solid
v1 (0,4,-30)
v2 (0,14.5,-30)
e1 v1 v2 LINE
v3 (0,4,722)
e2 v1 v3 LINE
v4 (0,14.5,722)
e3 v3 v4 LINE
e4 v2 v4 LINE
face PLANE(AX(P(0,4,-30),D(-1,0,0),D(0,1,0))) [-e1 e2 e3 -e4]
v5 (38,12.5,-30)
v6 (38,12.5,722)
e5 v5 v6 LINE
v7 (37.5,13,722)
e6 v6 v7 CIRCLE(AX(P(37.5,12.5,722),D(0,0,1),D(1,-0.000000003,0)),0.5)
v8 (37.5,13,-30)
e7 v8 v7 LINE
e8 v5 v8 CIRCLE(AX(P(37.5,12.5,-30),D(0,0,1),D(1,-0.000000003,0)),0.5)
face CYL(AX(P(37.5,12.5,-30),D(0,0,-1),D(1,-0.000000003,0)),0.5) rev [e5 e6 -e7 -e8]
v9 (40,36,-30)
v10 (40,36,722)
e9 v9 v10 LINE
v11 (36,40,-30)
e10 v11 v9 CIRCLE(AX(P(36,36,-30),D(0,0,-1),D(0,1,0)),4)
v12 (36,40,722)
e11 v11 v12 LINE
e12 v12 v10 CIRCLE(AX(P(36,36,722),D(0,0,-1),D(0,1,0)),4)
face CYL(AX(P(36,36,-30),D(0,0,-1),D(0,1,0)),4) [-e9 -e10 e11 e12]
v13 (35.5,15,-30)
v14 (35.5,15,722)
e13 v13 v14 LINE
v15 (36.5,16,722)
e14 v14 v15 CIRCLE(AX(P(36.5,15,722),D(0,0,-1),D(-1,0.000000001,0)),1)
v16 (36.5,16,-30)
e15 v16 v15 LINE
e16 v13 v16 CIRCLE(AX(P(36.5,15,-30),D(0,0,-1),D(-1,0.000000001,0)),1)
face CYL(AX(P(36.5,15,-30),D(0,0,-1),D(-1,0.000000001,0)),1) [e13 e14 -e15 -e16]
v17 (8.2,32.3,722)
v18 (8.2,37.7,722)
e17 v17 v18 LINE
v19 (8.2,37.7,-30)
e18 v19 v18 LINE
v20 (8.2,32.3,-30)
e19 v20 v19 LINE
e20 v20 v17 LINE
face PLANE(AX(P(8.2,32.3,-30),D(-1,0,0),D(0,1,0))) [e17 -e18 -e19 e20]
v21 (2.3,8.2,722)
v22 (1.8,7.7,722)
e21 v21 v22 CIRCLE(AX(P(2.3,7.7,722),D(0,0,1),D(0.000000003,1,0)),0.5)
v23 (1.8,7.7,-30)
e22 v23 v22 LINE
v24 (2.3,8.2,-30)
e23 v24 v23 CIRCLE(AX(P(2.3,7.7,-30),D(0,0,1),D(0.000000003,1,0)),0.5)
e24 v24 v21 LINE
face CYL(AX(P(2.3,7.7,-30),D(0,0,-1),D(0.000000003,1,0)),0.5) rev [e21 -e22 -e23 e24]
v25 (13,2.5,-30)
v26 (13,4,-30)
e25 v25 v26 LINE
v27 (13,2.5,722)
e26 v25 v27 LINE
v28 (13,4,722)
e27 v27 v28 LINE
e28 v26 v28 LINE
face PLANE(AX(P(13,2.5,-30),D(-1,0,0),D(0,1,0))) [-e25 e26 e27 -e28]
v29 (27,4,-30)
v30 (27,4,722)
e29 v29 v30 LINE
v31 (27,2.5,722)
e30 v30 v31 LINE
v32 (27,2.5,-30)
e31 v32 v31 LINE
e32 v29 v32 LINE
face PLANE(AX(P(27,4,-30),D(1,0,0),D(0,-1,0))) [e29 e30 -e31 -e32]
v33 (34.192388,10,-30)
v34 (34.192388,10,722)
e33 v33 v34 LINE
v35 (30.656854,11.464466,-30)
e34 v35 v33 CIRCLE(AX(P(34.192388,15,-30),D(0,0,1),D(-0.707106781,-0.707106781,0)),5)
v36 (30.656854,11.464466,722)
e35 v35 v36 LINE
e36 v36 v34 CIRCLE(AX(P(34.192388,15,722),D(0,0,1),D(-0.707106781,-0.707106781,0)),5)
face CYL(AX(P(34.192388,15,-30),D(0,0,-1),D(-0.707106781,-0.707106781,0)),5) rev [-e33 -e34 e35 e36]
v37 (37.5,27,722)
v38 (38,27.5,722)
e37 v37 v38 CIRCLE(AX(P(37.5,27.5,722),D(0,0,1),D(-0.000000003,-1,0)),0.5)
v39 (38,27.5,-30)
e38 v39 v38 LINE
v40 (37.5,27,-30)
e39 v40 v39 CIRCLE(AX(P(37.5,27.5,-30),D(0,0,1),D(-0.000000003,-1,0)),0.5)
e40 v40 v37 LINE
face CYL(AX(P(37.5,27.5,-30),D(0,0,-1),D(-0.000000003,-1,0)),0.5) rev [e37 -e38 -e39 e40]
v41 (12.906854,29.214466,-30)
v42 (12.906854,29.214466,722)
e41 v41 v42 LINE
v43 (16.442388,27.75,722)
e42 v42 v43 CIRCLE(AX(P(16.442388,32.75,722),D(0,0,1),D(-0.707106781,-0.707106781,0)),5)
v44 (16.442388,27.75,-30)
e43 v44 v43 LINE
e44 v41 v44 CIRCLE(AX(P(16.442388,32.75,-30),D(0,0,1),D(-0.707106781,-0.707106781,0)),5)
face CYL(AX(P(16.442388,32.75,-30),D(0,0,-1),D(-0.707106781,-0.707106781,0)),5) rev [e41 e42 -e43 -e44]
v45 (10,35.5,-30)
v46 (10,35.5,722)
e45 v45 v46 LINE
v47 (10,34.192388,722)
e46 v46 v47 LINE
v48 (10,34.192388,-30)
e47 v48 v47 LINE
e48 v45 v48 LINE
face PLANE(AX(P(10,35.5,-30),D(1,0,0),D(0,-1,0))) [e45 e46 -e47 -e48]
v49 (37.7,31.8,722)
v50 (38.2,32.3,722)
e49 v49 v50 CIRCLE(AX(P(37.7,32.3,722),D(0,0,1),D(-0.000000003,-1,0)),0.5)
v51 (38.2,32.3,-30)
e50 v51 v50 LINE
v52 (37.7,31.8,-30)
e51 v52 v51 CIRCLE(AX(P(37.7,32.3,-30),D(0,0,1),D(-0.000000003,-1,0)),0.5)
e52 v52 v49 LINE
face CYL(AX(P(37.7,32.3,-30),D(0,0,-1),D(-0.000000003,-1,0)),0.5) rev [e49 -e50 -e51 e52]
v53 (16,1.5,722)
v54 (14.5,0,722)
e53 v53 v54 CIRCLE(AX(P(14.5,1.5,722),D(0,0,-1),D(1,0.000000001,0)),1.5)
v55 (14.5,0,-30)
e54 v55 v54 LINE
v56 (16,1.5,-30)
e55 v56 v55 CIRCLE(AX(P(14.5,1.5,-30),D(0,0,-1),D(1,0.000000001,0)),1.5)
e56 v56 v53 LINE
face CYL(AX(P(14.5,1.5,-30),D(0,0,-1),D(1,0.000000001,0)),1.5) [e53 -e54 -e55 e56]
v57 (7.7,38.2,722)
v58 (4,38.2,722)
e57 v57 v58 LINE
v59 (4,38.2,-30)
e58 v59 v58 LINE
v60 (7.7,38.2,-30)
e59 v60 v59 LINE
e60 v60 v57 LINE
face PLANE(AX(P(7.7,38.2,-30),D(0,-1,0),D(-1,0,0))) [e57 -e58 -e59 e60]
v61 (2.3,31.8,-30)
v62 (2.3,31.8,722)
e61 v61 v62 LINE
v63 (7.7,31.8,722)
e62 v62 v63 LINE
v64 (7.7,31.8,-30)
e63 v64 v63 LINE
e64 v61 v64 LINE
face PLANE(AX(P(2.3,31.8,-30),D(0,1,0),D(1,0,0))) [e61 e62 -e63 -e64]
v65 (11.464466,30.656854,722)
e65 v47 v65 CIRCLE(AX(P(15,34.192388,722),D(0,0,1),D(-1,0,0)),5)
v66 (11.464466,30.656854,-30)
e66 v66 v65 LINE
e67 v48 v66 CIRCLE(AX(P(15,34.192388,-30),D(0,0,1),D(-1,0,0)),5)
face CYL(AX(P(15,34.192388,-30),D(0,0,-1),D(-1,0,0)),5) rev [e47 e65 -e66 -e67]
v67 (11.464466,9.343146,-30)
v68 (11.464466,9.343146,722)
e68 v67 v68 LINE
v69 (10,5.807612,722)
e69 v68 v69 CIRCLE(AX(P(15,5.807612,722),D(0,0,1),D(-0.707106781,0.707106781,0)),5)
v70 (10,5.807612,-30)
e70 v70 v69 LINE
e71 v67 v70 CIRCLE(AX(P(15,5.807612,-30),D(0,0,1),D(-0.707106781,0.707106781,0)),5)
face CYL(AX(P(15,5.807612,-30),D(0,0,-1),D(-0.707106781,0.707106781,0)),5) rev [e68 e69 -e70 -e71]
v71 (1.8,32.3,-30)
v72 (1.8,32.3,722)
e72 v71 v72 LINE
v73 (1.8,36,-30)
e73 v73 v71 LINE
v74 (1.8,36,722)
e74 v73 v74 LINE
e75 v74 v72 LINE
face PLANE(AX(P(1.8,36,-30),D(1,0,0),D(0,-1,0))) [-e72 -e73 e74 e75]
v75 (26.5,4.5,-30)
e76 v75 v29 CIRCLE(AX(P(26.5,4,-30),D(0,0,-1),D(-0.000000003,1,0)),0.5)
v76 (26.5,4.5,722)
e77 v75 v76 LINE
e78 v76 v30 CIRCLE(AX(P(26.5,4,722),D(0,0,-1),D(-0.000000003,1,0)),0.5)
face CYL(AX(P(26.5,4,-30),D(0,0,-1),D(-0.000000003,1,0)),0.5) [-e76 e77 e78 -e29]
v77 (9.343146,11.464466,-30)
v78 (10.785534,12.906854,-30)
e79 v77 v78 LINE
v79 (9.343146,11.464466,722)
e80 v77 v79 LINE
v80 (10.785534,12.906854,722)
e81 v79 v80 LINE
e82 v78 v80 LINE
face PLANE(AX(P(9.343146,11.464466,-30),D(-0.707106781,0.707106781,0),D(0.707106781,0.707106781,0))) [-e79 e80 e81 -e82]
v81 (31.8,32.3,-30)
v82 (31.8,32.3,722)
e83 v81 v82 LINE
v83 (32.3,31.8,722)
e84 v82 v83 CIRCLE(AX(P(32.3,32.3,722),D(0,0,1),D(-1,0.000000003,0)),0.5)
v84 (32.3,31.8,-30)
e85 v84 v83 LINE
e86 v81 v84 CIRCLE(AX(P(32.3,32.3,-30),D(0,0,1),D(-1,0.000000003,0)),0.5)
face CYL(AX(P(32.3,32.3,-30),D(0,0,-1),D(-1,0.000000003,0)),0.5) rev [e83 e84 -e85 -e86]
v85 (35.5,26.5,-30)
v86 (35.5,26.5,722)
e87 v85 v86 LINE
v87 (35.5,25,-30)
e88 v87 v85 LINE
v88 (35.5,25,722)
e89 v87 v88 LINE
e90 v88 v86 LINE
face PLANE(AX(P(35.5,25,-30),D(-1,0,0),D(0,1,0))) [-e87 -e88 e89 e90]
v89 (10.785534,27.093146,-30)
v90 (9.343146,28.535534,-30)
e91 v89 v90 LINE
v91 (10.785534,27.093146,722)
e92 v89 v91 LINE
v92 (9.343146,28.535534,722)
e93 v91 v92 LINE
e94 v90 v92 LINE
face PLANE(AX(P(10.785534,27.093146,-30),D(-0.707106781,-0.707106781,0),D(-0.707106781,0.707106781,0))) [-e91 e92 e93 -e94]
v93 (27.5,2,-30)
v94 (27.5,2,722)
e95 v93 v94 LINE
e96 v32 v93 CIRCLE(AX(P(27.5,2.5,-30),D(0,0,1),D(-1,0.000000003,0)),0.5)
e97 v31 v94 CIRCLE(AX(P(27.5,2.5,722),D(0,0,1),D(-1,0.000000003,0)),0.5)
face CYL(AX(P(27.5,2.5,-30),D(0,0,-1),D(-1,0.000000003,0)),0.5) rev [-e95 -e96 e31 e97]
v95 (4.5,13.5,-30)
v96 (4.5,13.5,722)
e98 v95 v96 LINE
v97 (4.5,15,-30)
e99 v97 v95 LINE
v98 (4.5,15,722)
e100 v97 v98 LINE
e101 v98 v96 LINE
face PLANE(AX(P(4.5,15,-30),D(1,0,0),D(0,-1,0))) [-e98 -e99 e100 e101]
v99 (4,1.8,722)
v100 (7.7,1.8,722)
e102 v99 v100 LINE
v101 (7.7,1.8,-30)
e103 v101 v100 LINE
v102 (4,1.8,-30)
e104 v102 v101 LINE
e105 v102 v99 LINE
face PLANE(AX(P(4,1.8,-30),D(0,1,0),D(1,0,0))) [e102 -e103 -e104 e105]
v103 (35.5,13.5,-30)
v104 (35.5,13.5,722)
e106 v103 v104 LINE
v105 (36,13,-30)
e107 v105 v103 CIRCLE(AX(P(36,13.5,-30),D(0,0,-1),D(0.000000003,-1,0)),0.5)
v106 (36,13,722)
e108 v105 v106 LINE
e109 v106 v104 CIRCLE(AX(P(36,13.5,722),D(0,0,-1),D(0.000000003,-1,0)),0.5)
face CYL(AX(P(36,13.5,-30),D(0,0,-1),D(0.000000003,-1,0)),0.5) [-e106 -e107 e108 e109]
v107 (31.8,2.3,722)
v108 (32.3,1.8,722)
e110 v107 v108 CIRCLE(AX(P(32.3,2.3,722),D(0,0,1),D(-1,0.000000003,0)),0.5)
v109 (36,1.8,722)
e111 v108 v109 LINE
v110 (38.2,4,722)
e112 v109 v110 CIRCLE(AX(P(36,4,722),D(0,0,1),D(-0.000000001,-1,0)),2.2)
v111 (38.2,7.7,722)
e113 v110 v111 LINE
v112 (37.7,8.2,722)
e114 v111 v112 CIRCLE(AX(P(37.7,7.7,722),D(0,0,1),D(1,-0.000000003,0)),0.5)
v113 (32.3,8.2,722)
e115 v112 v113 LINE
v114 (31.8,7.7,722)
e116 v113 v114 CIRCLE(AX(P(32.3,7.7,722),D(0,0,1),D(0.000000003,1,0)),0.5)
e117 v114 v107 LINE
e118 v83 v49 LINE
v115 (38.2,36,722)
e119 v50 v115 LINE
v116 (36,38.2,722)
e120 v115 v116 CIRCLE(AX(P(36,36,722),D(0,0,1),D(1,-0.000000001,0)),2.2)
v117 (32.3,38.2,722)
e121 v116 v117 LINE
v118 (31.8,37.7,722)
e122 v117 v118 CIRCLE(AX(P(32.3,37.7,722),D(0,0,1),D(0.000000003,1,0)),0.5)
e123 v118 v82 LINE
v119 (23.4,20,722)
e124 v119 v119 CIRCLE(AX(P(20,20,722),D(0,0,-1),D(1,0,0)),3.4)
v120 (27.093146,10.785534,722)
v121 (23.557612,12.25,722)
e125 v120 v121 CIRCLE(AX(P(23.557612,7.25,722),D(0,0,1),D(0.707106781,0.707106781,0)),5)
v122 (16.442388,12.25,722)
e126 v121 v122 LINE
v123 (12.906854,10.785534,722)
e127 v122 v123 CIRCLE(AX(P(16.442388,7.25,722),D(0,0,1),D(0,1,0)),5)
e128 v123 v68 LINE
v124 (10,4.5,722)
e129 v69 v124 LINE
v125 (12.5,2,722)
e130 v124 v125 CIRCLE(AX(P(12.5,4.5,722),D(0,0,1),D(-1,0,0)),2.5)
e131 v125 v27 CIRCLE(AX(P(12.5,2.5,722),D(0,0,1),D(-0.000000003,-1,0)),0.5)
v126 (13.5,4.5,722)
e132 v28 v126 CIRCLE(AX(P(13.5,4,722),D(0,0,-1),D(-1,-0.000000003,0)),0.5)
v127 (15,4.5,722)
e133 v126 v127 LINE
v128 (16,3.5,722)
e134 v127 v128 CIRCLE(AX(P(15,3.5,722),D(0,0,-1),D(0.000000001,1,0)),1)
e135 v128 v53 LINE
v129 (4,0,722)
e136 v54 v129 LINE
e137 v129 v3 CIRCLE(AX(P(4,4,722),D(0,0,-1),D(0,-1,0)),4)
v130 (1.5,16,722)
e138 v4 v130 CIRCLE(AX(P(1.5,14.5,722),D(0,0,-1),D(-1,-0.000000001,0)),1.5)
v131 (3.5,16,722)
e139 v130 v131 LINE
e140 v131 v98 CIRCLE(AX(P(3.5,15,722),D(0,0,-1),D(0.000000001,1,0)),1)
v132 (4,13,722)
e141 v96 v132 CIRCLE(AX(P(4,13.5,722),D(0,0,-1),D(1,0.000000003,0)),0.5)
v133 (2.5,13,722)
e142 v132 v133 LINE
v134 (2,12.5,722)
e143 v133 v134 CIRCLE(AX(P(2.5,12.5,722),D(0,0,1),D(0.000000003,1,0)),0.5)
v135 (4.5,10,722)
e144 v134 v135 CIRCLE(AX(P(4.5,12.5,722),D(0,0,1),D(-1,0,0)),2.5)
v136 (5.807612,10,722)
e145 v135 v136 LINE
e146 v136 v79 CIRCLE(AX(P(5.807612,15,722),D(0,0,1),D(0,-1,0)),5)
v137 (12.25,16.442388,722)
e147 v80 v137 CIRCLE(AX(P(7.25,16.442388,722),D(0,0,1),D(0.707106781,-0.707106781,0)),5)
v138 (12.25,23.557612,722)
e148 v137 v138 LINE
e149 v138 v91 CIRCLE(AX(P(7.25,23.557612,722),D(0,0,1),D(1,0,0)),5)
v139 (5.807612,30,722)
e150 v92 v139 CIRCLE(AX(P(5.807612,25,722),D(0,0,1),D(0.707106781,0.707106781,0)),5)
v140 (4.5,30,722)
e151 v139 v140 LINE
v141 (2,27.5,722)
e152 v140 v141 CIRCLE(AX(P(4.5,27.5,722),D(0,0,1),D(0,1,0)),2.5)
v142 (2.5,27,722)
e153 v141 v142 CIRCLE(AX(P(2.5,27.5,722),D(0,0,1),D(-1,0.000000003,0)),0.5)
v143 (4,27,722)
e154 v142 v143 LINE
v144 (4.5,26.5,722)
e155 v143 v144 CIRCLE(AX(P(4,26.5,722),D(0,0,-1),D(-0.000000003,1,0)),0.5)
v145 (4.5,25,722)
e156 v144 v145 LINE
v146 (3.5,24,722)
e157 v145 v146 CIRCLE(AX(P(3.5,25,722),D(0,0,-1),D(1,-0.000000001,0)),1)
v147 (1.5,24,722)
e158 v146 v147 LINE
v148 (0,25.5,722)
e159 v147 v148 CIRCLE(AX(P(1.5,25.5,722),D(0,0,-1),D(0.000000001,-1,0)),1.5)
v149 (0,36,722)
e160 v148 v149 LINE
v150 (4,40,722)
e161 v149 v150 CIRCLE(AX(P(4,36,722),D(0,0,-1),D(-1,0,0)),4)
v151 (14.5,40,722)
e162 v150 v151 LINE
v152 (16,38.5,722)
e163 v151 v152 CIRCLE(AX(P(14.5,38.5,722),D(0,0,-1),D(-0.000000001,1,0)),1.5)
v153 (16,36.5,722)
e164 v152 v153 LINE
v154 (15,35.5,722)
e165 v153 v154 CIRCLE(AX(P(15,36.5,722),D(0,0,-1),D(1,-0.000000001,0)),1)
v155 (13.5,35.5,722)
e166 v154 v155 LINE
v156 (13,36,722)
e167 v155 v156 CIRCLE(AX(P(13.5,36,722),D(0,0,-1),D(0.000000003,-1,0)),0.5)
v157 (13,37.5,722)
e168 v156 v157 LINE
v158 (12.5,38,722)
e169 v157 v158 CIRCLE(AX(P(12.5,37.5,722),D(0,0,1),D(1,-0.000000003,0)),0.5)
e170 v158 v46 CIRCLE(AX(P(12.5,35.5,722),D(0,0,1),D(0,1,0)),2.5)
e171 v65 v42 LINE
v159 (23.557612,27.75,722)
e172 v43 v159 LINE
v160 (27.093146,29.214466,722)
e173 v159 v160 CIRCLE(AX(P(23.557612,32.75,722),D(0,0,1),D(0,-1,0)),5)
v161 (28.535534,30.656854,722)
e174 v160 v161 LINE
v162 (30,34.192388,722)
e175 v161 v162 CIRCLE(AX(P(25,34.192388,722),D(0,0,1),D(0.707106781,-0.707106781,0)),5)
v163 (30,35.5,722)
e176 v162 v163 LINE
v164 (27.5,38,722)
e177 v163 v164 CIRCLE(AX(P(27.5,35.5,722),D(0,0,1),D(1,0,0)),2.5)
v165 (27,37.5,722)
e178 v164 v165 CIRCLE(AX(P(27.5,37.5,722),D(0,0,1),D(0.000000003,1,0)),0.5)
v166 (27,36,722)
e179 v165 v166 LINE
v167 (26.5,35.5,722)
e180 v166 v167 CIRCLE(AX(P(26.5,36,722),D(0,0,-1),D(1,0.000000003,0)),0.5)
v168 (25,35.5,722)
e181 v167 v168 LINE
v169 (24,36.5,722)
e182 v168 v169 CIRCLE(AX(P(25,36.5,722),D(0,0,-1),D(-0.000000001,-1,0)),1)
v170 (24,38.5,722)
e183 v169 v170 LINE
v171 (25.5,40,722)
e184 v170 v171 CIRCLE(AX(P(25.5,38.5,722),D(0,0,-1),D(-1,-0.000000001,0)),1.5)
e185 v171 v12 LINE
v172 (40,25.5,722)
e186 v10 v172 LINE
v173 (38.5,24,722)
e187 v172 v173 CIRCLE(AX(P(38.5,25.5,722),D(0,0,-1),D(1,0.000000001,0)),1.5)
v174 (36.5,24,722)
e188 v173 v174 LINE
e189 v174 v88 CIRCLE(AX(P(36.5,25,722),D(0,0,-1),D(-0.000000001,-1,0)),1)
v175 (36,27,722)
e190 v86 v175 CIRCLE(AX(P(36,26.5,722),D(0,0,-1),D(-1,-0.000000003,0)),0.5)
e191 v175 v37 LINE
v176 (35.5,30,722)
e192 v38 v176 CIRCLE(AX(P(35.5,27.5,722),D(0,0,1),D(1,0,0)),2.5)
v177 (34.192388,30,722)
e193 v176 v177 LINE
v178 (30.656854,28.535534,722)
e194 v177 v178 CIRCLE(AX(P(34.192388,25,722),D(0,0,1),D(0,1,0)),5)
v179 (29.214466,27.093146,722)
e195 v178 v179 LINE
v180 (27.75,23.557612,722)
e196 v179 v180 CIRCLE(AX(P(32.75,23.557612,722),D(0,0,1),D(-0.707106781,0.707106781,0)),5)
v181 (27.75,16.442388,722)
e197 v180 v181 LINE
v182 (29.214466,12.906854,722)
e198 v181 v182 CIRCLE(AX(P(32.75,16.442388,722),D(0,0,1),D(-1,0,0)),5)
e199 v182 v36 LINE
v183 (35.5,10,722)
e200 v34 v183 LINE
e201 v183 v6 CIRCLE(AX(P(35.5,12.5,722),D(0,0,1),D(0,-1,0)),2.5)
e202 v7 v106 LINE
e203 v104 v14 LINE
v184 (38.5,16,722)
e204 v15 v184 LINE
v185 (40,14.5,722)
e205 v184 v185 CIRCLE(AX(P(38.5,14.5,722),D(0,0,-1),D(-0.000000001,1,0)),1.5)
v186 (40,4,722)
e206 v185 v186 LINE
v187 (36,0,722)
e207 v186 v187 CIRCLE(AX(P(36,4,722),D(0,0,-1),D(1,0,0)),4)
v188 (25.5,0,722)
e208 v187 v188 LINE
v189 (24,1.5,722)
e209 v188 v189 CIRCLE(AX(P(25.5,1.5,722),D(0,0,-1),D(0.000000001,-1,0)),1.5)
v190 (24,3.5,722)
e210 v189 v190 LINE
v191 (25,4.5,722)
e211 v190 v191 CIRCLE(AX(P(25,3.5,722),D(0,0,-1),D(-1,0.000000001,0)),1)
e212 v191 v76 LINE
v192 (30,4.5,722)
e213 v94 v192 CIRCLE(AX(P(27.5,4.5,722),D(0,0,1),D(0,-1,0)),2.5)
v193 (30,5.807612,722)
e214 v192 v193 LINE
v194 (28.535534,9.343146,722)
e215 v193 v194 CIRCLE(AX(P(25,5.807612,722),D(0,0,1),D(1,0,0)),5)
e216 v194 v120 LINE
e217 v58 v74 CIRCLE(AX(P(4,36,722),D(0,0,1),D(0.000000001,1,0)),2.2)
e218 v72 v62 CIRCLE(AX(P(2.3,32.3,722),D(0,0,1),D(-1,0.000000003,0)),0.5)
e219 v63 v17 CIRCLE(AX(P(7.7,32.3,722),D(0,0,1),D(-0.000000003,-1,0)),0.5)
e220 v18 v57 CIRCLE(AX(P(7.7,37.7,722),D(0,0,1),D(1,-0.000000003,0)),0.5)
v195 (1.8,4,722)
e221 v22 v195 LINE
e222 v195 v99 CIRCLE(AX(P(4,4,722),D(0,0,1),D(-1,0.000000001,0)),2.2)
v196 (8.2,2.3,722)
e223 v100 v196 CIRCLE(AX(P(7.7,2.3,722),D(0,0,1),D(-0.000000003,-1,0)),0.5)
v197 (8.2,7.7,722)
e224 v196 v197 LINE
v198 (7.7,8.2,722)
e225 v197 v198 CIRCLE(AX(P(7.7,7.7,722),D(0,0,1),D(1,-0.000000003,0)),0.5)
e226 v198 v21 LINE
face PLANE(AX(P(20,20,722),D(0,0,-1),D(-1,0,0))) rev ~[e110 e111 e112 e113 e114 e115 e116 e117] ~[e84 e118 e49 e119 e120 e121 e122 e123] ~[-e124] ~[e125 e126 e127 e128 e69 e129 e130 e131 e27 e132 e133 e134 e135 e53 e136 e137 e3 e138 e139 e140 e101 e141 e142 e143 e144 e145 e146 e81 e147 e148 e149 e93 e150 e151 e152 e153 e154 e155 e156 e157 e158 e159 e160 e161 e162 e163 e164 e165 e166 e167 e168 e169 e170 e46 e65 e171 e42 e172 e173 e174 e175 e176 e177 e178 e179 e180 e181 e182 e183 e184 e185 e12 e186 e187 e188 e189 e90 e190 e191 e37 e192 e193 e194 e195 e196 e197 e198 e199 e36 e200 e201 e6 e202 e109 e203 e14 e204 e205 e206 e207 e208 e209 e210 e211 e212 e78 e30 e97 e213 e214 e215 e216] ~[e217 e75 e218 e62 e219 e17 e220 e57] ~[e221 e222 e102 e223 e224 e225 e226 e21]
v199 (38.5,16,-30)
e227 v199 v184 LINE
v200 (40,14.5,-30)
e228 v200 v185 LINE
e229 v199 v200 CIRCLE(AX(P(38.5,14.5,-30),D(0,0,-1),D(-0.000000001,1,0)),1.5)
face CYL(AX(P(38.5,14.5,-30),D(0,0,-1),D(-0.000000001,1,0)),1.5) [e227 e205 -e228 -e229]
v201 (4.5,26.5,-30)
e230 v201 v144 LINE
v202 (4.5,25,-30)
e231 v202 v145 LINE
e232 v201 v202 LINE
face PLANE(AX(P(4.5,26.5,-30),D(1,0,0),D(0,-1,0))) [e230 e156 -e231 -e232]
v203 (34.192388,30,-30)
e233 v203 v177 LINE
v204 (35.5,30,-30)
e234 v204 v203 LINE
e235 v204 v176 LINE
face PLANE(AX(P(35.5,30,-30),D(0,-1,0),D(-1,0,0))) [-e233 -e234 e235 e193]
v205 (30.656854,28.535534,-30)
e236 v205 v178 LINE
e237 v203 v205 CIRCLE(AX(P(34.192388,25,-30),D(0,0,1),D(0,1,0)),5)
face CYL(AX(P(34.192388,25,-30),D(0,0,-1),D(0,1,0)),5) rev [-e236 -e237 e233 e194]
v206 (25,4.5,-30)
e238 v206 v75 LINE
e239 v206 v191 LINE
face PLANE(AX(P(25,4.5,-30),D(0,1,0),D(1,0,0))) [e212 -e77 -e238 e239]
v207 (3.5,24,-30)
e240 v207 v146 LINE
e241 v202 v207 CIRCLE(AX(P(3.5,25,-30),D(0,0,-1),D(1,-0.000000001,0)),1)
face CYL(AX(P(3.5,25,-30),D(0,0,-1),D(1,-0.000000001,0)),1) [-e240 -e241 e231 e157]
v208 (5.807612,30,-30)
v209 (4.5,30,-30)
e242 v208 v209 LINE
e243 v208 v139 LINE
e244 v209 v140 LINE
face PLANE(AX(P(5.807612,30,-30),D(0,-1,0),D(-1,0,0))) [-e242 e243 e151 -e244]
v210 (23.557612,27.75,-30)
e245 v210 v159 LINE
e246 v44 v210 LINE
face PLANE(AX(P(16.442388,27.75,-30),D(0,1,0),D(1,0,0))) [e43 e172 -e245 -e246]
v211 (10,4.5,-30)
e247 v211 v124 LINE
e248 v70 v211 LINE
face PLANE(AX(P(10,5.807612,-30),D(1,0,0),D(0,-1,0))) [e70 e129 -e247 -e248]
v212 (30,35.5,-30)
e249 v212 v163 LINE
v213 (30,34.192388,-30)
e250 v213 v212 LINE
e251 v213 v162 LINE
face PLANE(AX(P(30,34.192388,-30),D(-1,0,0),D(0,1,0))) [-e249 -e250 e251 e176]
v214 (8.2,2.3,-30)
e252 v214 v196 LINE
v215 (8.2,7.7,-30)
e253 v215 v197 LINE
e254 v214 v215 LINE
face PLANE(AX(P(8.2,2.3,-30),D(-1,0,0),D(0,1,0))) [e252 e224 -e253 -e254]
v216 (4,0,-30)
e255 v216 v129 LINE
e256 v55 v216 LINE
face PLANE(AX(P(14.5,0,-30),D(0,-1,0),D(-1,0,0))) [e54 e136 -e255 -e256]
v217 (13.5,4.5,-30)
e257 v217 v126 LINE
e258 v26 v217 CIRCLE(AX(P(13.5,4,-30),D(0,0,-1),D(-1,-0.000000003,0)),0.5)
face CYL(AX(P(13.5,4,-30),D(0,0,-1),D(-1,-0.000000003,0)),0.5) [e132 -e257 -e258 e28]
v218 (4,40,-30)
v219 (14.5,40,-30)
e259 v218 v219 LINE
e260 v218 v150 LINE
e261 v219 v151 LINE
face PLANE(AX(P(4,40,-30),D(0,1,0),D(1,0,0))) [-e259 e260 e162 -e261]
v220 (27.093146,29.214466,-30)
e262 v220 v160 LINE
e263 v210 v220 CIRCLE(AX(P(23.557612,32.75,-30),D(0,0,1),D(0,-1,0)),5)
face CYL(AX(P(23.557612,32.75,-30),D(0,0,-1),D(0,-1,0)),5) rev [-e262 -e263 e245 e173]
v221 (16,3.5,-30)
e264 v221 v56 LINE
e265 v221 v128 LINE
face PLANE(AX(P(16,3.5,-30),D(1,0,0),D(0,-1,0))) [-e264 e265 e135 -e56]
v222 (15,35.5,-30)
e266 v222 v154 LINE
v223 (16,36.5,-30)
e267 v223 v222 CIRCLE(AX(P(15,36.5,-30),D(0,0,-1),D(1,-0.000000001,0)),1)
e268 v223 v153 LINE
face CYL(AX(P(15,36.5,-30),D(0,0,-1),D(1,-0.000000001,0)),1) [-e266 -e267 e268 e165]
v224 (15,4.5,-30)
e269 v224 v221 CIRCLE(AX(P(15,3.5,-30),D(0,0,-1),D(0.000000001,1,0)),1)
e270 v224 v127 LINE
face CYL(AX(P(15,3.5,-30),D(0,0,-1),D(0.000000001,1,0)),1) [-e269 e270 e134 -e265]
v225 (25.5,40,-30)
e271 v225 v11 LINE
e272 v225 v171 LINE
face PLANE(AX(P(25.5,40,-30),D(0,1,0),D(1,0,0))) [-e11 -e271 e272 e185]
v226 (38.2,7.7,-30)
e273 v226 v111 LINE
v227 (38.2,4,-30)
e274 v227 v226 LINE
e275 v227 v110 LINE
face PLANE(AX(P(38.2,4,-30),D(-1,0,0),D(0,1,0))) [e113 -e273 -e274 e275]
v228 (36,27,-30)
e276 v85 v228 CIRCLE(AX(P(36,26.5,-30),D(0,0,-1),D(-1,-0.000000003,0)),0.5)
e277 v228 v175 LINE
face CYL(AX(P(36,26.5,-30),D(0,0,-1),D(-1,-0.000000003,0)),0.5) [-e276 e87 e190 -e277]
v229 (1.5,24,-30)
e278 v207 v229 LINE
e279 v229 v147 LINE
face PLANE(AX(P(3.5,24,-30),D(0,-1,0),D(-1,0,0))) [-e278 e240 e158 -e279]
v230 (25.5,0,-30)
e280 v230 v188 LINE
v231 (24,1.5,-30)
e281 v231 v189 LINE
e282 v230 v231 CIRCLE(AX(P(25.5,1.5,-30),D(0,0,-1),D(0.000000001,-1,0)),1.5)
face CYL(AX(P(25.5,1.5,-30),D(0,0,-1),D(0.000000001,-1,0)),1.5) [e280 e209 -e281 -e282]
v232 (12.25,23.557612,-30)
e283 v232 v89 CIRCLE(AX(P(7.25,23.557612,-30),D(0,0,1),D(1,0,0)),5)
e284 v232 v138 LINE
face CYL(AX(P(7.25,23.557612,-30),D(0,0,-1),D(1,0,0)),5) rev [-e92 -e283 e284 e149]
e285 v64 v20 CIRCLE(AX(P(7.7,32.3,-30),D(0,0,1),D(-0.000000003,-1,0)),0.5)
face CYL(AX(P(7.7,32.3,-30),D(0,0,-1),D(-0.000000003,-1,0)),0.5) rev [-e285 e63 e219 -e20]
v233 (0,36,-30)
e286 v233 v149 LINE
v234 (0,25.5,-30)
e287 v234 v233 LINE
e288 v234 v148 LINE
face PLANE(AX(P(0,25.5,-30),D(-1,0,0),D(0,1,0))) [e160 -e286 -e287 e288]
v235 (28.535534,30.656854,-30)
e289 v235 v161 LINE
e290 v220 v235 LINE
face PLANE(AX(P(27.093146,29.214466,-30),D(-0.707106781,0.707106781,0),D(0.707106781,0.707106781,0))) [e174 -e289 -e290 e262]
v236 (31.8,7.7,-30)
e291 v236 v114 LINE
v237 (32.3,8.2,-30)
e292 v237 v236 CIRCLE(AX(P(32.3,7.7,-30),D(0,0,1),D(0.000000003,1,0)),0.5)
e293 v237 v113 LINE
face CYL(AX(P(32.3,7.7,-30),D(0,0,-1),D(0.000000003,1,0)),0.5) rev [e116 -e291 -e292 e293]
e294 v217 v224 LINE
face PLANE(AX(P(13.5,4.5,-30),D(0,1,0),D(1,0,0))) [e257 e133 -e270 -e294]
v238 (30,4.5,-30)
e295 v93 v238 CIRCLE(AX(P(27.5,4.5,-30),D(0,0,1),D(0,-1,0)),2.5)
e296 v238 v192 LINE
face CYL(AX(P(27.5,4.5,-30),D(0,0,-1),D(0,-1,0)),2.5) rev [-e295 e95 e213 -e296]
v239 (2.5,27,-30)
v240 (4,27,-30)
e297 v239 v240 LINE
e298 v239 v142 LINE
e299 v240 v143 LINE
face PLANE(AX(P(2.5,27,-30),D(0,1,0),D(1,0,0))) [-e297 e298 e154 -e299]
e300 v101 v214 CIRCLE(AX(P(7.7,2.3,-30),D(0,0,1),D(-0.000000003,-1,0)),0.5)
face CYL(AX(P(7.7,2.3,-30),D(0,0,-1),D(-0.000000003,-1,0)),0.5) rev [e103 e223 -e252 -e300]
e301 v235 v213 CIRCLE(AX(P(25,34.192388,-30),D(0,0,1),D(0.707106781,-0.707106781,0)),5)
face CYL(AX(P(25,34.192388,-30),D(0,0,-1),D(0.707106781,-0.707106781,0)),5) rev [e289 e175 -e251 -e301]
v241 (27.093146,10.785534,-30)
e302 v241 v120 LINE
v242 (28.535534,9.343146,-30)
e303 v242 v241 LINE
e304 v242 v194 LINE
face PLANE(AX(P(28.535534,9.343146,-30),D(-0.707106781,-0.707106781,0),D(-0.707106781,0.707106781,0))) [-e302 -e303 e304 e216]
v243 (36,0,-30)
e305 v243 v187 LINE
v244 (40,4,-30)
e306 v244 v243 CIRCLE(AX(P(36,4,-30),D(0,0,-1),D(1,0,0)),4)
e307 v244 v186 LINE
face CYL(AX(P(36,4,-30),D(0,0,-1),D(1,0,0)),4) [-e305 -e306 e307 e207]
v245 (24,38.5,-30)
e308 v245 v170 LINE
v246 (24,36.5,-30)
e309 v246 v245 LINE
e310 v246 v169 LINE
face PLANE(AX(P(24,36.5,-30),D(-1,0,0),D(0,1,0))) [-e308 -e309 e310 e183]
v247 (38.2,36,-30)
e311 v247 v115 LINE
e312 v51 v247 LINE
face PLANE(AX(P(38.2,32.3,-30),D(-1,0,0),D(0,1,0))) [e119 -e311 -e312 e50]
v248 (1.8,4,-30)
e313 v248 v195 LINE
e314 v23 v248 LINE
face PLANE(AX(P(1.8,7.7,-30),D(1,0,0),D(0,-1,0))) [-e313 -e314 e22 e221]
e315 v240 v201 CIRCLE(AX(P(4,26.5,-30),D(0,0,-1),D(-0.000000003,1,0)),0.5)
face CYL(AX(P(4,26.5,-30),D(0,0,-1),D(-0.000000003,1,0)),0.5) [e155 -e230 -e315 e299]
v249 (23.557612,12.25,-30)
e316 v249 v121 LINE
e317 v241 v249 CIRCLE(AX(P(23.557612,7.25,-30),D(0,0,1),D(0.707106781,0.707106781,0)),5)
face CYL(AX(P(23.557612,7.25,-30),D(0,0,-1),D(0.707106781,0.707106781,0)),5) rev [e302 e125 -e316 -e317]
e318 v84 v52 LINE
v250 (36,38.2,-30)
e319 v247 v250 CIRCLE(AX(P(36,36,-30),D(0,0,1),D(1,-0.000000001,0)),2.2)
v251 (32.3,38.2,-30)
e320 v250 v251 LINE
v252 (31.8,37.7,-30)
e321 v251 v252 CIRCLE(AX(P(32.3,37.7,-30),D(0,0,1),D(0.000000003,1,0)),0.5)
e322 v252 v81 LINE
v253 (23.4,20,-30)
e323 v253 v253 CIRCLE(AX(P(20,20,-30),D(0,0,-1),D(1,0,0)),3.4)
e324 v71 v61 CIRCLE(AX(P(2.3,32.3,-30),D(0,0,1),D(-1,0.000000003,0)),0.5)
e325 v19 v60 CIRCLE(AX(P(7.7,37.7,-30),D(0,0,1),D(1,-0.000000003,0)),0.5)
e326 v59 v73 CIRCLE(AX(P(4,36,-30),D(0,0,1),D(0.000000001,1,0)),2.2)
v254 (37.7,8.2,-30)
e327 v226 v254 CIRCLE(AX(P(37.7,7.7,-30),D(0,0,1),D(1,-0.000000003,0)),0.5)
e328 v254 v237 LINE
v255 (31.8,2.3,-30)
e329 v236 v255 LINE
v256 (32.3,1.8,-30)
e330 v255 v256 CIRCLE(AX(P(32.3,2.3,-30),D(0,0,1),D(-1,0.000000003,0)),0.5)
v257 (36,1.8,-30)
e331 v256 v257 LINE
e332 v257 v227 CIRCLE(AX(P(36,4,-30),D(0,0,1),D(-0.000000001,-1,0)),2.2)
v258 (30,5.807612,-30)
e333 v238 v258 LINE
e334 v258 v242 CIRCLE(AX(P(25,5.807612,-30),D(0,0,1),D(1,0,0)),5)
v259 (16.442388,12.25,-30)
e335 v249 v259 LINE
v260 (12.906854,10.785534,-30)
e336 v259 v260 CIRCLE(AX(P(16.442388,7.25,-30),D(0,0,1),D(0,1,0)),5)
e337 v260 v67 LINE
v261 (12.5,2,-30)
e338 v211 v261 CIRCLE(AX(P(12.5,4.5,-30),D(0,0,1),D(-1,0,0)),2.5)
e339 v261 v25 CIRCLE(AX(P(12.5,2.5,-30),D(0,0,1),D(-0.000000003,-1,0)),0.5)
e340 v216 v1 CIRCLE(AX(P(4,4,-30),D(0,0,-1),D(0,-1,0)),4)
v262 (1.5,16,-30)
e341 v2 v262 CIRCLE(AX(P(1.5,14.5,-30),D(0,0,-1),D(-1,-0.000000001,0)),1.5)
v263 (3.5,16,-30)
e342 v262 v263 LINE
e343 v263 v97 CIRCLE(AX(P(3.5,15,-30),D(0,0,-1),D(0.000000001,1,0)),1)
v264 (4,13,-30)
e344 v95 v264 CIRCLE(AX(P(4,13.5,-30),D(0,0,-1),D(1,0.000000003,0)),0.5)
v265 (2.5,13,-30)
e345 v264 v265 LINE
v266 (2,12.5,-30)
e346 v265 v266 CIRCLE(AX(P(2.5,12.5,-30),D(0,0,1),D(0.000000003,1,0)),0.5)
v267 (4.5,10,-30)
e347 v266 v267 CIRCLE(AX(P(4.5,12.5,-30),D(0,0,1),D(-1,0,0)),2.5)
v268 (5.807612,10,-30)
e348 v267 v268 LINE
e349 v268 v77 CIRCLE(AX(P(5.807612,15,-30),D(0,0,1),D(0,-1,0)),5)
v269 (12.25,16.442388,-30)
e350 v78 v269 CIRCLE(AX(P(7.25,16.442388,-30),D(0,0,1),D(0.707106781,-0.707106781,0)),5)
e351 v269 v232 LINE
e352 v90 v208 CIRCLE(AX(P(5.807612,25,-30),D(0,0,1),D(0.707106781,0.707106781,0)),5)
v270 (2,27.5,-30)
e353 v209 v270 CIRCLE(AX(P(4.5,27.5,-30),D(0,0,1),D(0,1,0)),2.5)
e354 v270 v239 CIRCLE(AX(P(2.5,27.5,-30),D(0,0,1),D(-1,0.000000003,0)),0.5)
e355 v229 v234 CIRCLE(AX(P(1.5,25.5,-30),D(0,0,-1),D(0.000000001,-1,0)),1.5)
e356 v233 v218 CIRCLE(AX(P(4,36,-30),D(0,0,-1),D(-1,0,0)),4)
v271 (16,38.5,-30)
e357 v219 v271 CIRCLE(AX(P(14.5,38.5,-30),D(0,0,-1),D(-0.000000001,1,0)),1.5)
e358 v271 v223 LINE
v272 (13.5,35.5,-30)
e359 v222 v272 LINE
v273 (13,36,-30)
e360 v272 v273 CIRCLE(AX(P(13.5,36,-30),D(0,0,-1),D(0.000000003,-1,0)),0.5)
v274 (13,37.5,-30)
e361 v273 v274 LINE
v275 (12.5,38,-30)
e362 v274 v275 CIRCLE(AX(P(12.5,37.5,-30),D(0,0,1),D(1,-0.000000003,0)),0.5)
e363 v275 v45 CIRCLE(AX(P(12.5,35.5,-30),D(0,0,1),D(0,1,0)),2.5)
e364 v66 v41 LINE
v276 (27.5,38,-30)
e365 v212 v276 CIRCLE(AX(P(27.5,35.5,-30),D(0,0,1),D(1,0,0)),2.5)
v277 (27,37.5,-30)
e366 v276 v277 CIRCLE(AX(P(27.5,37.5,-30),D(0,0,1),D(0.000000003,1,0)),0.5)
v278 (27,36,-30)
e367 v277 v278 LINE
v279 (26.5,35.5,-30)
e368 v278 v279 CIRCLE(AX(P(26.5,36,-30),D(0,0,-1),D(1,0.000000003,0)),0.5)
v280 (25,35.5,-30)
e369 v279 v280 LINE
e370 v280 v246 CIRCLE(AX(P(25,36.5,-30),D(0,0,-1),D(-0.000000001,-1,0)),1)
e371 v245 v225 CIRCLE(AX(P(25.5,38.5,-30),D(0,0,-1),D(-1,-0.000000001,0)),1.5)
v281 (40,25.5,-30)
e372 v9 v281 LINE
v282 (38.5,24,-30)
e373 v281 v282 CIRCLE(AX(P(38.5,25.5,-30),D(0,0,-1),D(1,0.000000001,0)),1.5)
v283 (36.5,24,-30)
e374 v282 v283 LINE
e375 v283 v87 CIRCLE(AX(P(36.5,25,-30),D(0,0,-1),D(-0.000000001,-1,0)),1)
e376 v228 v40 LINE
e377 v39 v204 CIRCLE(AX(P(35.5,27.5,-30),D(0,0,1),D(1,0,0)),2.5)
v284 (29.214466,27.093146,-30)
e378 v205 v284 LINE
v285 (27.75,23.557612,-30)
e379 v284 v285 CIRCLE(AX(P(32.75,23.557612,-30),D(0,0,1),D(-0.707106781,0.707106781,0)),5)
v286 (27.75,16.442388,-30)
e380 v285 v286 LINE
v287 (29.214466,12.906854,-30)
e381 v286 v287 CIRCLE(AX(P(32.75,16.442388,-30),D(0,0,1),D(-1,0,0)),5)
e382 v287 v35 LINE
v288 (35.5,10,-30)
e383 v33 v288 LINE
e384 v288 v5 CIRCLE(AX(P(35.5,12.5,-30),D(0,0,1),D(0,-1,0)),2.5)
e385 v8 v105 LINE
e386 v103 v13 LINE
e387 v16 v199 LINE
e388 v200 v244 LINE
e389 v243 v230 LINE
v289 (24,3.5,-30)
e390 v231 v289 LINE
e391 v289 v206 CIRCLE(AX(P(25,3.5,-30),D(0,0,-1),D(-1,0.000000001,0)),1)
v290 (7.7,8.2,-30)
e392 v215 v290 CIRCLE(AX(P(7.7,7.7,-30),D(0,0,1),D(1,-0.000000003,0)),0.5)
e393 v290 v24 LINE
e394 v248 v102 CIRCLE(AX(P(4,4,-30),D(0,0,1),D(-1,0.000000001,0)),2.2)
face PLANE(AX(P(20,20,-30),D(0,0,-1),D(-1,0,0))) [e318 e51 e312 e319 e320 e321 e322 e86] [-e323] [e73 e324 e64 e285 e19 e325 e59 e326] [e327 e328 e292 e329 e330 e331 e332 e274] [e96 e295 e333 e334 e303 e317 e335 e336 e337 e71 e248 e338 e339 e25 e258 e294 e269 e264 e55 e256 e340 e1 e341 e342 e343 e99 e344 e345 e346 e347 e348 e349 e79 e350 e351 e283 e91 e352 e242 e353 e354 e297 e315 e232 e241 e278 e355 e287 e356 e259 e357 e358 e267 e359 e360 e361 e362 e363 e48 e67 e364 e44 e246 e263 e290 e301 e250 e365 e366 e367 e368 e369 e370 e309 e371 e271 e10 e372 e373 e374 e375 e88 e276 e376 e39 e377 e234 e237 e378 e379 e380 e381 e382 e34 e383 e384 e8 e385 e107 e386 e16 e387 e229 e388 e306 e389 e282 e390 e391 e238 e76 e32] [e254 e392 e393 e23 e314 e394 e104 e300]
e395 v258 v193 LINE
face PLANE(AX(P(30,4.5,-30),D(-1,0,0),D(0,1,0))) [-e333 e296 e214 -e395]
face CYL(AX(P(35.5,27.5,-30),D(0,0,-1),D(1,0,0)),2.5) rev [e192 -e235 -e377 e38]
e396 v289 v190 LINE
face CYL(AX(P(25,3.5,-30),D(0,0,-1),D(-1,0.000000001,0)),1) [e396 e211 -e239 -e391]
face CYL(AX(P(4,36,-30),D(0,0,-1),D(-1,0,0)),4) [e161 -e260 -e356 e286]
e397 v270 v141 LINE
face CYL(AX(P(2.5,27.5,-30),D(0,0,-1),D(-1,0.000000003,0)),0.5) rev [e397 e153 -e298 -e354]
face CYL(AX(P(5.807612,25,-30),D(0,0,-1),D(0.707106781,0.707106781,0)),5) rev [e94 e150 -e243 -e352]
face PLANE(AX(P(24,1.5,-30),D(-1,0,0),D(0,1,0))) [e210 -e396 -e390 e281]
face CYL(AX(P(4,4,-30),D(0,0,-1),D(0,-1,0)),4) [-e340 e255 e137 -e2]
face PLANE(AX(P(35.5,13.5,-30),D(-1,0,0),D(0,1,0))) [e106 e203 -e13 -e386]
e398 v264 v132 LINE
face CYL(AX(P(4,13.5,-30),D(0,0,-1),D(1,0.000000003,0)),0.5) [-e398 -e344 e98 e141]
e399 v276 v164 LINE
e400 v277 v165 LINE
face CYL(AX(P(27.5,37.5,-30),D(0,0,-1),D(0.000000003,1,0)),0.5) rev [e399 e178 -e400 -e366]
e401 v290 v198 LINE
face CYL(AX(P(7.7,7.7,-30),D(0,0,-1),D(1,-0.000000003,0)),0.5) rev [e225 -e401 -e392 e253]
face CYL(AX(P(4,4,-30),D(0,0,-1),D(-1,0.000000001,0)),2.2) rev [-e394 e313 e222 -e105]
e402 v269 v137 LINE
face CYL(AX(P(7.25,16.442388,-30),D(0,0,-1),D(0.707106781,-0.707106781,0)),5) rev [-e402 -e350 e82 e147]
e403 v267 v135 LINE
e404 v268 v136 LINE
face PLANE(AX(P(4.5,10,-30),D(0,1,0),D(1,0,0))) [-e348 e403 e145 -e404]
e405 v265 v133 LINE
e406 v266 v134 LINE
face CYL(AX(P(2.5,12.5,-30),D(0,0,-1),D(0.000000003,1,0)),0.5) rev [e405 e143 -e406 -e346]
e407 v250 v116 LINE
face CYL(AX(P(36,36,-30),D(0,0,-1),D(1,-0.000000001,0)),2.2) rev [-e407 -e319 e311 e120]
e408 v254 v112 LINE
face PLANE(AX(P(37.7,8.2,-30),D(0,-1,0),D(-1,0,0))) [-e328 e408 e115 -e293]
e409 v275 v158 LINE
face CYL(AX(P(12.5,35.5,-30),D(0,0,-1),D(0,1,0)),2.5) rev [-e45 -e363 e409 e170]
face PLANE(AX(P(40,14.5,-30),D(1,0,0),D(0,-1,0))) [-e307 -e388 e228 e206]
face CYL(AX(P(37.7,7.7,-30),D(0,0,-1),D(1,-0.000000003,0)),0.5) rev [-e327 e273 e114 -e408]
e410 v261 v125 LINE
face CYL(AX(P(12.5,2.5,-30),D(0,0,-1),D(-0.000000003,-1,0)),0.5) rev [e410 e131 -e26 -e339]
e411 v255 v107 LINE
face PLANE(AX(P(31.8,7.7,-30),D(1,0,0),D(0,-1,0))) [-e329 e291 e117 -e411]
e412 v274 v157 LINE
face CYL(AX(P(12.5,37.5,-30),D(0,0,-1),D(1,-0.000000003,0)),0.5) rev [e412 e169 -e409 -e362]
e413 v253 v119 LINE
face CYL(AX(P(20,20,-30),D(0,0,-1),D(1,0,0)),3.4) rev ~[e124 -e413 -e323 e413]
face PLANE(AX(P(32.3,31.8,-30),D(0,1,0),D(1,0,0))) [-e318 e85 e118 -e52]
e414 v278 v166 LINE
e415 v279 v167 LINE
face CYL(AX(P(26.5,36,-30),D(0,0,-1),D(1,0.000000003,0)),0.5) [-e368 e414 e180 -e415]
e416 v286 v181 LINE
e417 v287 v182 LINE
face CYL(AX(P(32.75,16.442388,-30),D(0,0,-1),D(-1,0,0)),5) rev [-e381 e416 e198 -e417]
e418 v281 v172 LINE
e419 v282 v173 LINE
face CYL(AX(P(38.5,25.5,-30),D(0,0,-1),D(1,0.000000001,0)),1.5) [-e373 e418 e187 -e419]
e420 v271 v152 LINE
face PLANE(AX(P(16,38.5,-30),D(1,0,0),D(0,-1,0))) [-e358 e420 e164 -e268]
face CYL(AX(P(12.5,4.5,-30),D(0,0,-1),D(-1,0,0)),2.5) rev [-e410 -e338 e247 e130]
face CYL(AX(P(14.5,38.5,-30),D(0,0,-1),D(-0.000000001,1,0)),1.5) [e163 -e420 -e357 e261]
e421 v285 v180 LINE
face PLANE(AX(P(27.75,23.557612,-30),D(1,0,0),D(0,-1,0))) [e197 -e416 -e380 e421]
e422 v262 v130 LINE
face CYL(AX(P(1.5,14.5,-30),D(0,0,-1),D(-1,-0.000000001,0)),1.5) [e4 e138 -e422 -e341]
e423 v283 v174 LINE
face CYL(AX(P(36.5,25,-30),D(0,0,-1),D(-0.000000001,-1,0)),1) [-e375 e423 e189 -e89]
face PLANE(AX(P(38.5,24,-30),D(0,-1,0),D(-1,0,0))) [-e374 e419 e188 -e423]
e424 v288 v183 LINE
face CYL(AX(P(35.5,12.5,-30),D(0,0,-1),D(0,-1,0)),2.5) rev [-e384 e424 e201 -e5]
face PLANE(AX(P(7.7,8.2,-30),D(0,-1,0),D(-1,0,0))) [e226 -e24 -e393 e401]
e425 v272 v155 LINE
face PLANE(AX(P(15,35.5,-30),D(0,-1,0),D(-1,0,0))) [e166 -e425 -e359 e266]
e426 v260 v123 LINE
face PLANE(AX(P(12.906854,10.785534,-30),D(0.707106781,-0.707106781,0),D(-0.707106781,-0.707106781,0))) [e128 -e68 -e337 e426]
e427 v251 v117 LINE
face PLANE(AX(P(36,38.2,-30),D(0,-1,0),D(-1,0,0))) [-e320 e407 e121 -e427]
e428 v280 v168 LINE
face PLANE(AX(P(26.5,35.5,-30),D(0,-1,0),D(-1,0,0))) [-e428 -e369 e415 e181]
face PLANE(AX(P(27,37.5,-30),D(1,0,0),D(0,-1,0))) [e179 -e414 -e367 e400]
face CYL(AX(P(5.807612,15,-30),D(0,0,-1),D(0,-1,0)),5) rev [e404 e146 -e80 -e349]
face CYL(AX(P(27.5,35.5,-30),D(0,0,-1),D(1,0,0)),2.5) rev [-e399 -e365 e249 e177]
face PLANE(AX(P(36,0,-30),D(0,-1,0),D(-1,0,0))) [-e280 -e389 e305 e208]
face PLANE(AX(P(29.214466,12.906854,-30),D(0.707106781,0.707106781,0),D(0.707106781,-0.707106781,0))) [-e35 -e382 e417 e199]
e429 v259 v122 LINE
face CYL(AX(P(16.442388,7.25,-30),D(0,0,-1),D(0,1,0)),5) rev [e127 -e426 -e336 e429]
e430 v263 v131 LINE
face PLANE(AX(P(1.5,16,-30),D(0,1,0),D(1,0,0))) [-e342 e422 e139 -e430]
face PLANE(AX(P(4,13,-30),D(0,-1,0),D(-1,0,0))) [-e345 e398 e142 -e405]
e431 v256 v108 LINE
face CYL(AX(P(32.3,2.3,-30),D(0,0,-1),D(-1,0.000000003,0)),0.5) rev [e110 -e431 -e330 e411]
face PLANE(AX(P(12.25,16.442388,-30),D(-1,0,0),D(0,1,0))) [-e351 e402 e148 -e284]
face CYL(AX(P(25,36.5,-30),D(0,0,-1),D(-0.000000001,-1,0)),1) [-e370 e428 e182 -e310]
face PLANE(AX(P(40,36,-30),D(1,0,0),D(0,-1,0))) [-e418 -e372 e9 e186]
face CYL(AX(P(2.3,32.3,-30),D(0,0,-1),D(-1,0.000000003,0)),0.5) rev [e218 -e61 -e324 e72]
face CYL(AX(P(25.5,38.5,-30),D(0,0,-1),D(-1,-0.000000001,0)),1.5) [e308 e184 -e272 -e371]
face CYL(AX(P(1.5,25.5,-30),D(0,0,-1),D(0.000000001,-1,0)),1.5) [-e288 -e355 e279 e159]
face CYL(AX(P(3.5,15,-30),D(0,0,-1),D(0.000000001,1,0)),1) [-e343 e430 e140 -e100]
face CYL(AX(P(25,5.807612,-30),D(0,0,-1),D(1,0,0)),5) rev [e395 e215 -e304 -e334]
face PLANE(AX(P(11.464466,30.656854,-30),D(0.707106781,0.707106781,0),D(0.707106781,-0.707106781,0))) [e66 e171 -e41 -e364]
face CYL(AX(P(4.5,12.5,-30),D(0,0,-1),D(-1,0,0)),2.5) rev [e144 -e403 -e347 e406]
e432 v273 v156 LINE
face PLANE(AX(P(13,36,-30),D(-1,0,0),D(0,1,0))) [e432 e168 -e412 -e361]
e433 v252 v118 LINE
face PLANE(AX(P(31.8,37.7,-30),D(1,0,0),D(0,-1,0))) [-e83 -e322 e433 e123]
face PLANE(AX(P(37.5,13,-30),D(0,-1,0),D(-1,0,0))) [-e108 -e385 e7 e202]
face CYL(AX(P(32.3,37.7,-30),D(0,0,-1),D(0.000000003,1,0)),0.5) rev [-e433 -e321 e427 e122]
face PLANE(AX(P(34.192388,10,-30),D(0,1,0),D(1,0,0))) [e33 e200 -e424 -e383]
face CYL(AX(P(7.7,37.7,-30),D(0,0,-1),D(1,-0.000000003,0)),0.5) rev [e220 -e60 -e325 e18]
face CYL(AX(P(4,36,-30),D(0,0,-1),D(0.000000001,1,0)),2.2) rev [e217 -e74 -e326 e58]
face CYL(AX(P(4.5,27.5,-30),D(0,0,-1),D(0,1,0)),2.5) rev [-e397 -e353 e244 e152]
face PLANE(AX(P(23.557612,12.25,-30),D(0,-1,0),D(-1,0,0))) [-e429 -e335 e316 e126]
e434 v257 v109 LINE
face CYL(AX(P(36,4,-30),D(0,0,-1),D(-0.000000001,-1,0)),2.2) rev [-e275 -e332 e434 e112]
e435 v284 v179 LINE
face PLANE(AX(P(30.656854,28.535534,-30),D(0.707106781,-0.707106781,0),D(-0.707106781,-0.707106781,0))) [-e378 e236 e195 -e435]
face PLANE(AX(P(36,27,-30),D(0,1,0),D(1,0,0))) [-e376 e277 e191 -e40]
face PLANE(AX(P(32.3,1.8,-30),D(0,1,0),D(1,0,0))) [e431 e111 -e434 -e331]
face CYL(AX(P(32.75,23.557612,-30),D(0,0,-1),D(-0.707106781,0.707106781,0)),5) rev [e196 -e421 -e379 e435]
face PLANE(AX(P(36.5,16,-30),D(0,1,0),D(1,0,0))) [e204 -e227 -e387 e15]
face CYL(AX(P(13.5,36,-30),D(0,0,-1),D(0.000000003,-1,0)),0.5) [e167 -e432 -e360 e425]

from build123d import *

# Parameters (mm, degrees)
ESQUISSE1_R        = 3.4
BOSS_EXTRU_1_DEPTH = 752


with BuildPart() as part:
    # Esquisse1 → Boss.-Extru.1 (new body)
    with BuildSketch(Plane(origin=(0, 0, -30), x_dir=(-1, 0, 0), z_dir=(0, 0, -1))):
        with BuildLine():
            Line((-4.5, 15), (-4.5, 13.5))
            ThreePointArc((-4.5, 13.5), (-4.353553391, 13.146446609), (-4, 13))
            Line((-4, 13), (-2.5, 13))
            ThreePointArc((-2.5, 13), (-2.146446609, 12.853553391), (-2, 12.5))
            ThreePointArc((-2, 12.5), (-2.732233047, 10.732233047), (-4.5, 10))
            Line((-4.5, 10), (-5.807611845, 10))
            ThreePointArc((-5.807611845, 10), (-7.721029006, 10.380602337), (-9.343145751, 11.464466094))
            Line((-9.343145751, 11.464466094), (-10.785533906, 12.906854249))
            ThreePointArc((-10.785533906, 12.906854249), (-11.869397663, 14.528970994), (-12.25, 16.442388155))
            Line((-12.25, 16.442388155), (-12.25, 23.557611845))
            ThreePointArc((-12.25, 23.557611845), (-11.869397663, 25.471029006), (-10.785533906, 27.093145751))
            Line((-10.785533906, 27.093145751), (-9.343145751, 28.535533906))
            ThreePointArc((-9.343145751, 28.535533906), (-7.721029006, 29.619397663), (-5.807611845, 30))
            Line((-5.807611845, 30), (-4.5, 30))
            ThreePointArc((-4.5, 30), (-2.732233047, 29.267766953), (-2, 27.5))
            ThreePointArc((-2, 27.5), (-2.146446609, 27.146446609), (-2.5, 27))
            Line((-2.5, 27), (-4, 27))
            ThreePointArc((-4, 27), (-4.353553391, 26.853553391), (-4.5, 26.5))
            Line((-4.5, 26.5), (-4.5, 25))
            ThreePointArc((-4.5, 25), (-4.207106781, 24.292893219), (-3.5, 24))
            Line((-3.5, 24), (-1.5, 24))
            ThreePointArc((-1.5, 24), (-0.439339828, 24.439339828), (0, 25.5))
            Line((0, 25.5), (0, 36))
            ThreePointArc((0, 36), (-1.171572875, 38.828427125), (-4, 40))
            Line((-4, 40), (-14.5, 40))
            ThreePointArc((-14.5, 40), (-15.560660172, 39.560660172), (-16, 38.5))
            Line((-16, 38.5), (-16, 36.5))
            ThreePointArc((-16, 36.5), (-15.707106781, 35.792893219), (-15, 35.5))
            Line((-15, 35.5), (-13.5, 35.5))
            ThreePointArc((-13.5, 35.5), (-13.146446609, 35.646446609), (-13, 36))
            Line((-13, 36), (-13, 37.5))
            ThreePointArc((-13, 37.5), (-12.853553391, 37.853553391), (-12.5, 38))
            ThreePointArc((-12.5, 38), (-10.732233047, 37.267766953), (-10, 35.5))
            Line((-10, 35.5), (-10, 34.192388155))
            ThreePointArc((-10, 34.192388155), (-10.380602337, 32.278970994), (-11.464466094, 30.656854249))
            Line((-11.464466094, 30.656854249), (-12.906854249, 29.214466094))
            ThreePointArc((-12.906854249, 29.214466094), (-14.528970994, 28.130602337), (-16.442388155, 27.75))
            Line((-16.442388155, 27.75), (-23.557611845, 27.75))
            ThreePointArc((-23.557611845, 27.75), (-25.471029006, 28.130602337), (-27.093145751, 29.214466094))
            Line((-27.093145751, 29.214466094), (-28.535533906, 30.656854249))
            ThreePointArc((-28.535533906, 30.656854249), (-29.619397663, 32.278970994), (-30, 34.192388155))
            Line((-30, 34.192388155), (-30, 35.5))
            ThreePointArc((-30, 35.5), (-29.267766953, 37.267766953), (-27.5, 38))
            ThreePointArc((-27.5, 38), (-27.146446609, 37.853553391), (-27, 37.5))
            Line((-27, 37.5), (-27, 36))
            ThreePointArc((-27, 36), (-26.853553391, 35.646446609), (-26.5, 35.5))
            Line((-26.5, 35.5), (-25, 35.5))
            ThreePointArc((-25, 35.5), (-24.292893219, 35.792893219), (-24, 36.5))
            Line((-24, 36.5), (-24, 38.5))
            ThreePointArc((-24, 38.5), (-24.439339828, 39.560660172), (-25.5, 40))
            Line((-25.5, 40), (-36, 40))
            ThreePointArc((-36, 40), (-38.828427125, 38.828427125), (-40, 36))
            Line((-40, 36), (-40, 25.5))
            ThreePointArc((-40, 25.5), (-39.560660172, 24.439339828), (-38.5, 24))
            Line((-38.5, 24), (-36.5, 24))
            ThreePointArc((-36.5, 24), (-35.792893219, 24.292893219), (-35.5, 25))
            Line((-35.5, 25), (-35.5, 26.5))
            ThreePointArc((-35.5, 26.5), (-35.646446609, 26.853553391), (-36, 27))
            Line((-36, 27), (-37.5, 27))
            ThreePointArc((-37.5, 27), (-37.853553391, 27.146446609), (-38, 27.5))
            ThreePointArc((-38, 27.5), (-37.267766953, 29.267766953), (-35.5, 30))
            Line((-35.5, 30), (-34.192388155, 30))
            ThreePointArc((-34.192388155, 30), (-32.278970994, 29.619397663), (-30.656854249, 28.535533906))
            Line((-30.656854249, 28.535533906), (-29.214466094, 27.093145751))
            ThreePointArc((-29.214466094, 27.093145751), (-28.130602337, 25.471029006), (-27.75, 23.557611845))
            Line((-27.75, 23.557611845), (-27.75, 16.442388155))
            ThreePointArc((-27.75, 16.442388155), (-28.130602337, 14.528970994), (-29.214466094, 12.906854249))
            Line((-29.214466094, 12.906854249), (-30.656854249, 11.464466094))
            ThreePointArc((-30.656854249, 11.464466094), (-32.278970994, 10.380602337), (-34.192388155, 10))
            Line((-34.192388155, 10), (-35.5, 10))
            ThreePointArc((-35.5, 10), (-37.267766953, 10.732233047), (-38, 12.5))
            ThreePointArc((-38, 12.5), (-37.853553391, 12.853553391), (-37.5, 13))
            Line((-37.5, 13), (-36, 13))
            ThreePointArc((-36, 13), (-35.646446609, 13.146446609), (-35.5, 13.5))
            Line((-35.5, 13.5), (-35.5, 15))
            ThreePointArc((-35.5, 15), (-35.792893219, 15.707106781), (-36.5, 16))
            Line((-36.5, 16), (-38.5, 16))
            ThreePointArc((-38.5, 16), (-39.560660172, 15.560660172), (-40, 14.5))
            Line((-40, 14.5), (-40, 4))
            ThreePointArc((-40, 4), (-38.828427125, 1.171572875), (-36, 0))
            Line((-36, 0), (-25.5, 0))
            ThreePointArc((-25.5, 0), (-24.439339828, 0.439339828), (-24, 1.5))
            Line((-24, 1.5), (-24, 3.5))
            ThreePointArc((-24, 3.5), (-24.292893219, 4.207106781), (-25, 4.5))
            Line((-25, 4.5), (-26.5, 4.5))
            ThreePointArc((-26.5, 4.5), (-26.853553391, 4.353553391), (-27, 4))
            Line((-27, 4), (-27, 2.5))
            ThreePointArc((-27, 2.5), (-27.146446609, 2.146446609), (-27.5, 2))
            ThreePointArc((-27.5, 2), (-29.267766953, 2.732233047), (-30, 4.5))
            Line((-30, 4.5), (-30, 5.807611845))
            ThreePointArc((-30, 5.807611845), (-29.619397663, 7.721029006), (-28.535533906, 9.343145751))
            Line((-28.535533906, 9.343145751), (-27.093145751, 10.785533906))
            ThreePointArc((-27.093145751, 10.785533906), (-25.471029006, 11.869397663), (-23.557611845, 12.25))
            Line((-23.557611845, 12.25), (-16.442388155, 12.25))
            ThreePointArc((-16.442388155, 12.25), (-14.528970994, 11.869397663), (-12.906854249, 10.785533906))
            Line((-12.906854249, 10.785533906), (-11.464466094, 9.343145751))
            ThreePointArc((-11.464466094, 9.343145751), (-10.380602337, 7.721029006), (-10, 5.807611845))
            Line((-10, 5.807611845), (-10, 4.5))
            ThreePointArc((-10, 4.5), (-10.732233047, 2.732233047), (-12.5, 2))
            ThreePointArc((-12.5, 2), (-12.853553391, 2.146446609), (-13, 2.5))
            Line((-13, 2.5), (-13, 4))
            ThreePointArc((-13, 4), (-13.146446609, 4.353553391), (-13.5, 4.5))
            Line((-13.5, 4.5), (-15, 4.5))
            ThreePointArc((-15, 4.5), (-15.707106781, 4.207106781), (-16, 3.5))
            Line((-16, 3.5), (-16, 1.5))
            ThreePointArc((-16, 1.5), (-15.560660172, 0.439339828), (-14.5, 0))
            Line((-14.5, 0), (-4, 0))
            ThreePointArc((-4, 0), (-1.171572875, 1.171572875), (0, 4))
            Line((0, 4), (0, 14.5))
            ThreePointArc((0, 14.5), (-0.439339828, 15.560660172), (-1.5, 16))
            Line((-1.5, 16), (-3.5, 16))
            ThreePointArc((-3.5, 16), (-4.207106781, 15.707106781), (-4.5, 15))
        make_face()
        with Locations(Location((-20, 20, 0), (0, 0, 180))):
            Circle(ESQUISSE1_R, mode=Mode.SUBTRACT)
        with BuildLine():
            Line((-4, 1.8), (-7.7, 1.8))
            ThreePointArc((-7.7, 1.8), (-8.053553391, 1.946446609), (-8.2, 2.3))
            Line((-8.2, 2.3), (-8.2, 7.7))
            ThreePointArc((-8.2, 7.7), (-8.053553391, 8.053553391), (-7.7, 8.2))
            Line((-7.7, 8.2), (-2.3, 8.2))
            ThreePointArc((-2.3, 8.2), (-1.946446609, 8.053553391), (-1.8, 7.7))
            Line((-1.8, 7.7), (-1.8, 4))
            ThreePointArc((-1.8, 4), (-2.444365081, 2.444365081), (-4, 1.8))
        make_face(mode=Mode.SUBTRACT)
        with BuildLine():
            Line((-38.2, 4), (-38.2, 7.7))
            ThreePointArc((-38.2, 7.7), (-38.053553391, 8.053553391), (-37.7, 8.2))
            Line((-37.7, 8.2), (-32.3, 8.2))
            ThreePointArc((-32.3, 8.2), (-31.946446609, 8.053553391), (-31.8, 7.7))
            Line((-31.8, 7.7), (-31.8, 2.3))
            ThreePointArc((-31.8, 2.3), (-31.946446609, 1.946446609), (-32.3, 1.8))
            Line((-32.3, 1.8), (-36, 1.8))
            ThreePointArc((-36, 1.8), (-37.555634919, 2.444365081), (-38.2, 4))
        make_face(mode=Mode.SUBTRACT)
        with BuildLine():
            Line((-36, 38.2), (-32.3, 38.2))
            ThreePointArc((-32.3, 38.2), (-31.946446609, 38.053553391), (-31.8, 37.7))
            Line((-31.8, 37.7), (-31.8, 32.3))
            ThreePointArc((-31.8, 32.3), (-31.946446609, 31.946446609), (-32.3, 31.8))
            Line((-32.3, 31.8), (-37.7, 31.8))
            ThreePointArc((-37.7, 31.8), (-38.053553391, 31.946446609), (-38.2, 32.3))
            Line((-38.2, 32.3), (-38.2, 36))
            ThreePointArc((-38.2, 36), (-37.555634919, 37.555634919), (-36, 38.2))
        make_face(mode=Mode.SUBTRACT)
        with BuildLine():
            Line((-1.8, 36), (-1.8, 32.3))
            ThreePointArc((-1.8, 32.3), (-1.946446609, 31.946446609), (-2.3, 31.8))
            Line((-2.3, 31.8), (-7.7, 31.8))
            ThreePointArc((-7.7, 31.8), (-8.053553391, 31.946446609), (-8.2, 32.3))
            Line((-8.2, 32.3), (-8.2, 37.7))
            ThreePointArc((-8.2, 37.7), (-8.053553391, 38.053553391), (-7.7, 38.2))
            Line((-7.7, 38.2), (-4, 38.2))
            ThreePointArc((-4, 38.2), (-2.444365081, 37.555634919), (-1.8, 36))
        make_face(mode=Mode.SUBTRACT)
    extrude(amount=-BOSS_EXTRU_1_DEPTH)


solid = part.part
